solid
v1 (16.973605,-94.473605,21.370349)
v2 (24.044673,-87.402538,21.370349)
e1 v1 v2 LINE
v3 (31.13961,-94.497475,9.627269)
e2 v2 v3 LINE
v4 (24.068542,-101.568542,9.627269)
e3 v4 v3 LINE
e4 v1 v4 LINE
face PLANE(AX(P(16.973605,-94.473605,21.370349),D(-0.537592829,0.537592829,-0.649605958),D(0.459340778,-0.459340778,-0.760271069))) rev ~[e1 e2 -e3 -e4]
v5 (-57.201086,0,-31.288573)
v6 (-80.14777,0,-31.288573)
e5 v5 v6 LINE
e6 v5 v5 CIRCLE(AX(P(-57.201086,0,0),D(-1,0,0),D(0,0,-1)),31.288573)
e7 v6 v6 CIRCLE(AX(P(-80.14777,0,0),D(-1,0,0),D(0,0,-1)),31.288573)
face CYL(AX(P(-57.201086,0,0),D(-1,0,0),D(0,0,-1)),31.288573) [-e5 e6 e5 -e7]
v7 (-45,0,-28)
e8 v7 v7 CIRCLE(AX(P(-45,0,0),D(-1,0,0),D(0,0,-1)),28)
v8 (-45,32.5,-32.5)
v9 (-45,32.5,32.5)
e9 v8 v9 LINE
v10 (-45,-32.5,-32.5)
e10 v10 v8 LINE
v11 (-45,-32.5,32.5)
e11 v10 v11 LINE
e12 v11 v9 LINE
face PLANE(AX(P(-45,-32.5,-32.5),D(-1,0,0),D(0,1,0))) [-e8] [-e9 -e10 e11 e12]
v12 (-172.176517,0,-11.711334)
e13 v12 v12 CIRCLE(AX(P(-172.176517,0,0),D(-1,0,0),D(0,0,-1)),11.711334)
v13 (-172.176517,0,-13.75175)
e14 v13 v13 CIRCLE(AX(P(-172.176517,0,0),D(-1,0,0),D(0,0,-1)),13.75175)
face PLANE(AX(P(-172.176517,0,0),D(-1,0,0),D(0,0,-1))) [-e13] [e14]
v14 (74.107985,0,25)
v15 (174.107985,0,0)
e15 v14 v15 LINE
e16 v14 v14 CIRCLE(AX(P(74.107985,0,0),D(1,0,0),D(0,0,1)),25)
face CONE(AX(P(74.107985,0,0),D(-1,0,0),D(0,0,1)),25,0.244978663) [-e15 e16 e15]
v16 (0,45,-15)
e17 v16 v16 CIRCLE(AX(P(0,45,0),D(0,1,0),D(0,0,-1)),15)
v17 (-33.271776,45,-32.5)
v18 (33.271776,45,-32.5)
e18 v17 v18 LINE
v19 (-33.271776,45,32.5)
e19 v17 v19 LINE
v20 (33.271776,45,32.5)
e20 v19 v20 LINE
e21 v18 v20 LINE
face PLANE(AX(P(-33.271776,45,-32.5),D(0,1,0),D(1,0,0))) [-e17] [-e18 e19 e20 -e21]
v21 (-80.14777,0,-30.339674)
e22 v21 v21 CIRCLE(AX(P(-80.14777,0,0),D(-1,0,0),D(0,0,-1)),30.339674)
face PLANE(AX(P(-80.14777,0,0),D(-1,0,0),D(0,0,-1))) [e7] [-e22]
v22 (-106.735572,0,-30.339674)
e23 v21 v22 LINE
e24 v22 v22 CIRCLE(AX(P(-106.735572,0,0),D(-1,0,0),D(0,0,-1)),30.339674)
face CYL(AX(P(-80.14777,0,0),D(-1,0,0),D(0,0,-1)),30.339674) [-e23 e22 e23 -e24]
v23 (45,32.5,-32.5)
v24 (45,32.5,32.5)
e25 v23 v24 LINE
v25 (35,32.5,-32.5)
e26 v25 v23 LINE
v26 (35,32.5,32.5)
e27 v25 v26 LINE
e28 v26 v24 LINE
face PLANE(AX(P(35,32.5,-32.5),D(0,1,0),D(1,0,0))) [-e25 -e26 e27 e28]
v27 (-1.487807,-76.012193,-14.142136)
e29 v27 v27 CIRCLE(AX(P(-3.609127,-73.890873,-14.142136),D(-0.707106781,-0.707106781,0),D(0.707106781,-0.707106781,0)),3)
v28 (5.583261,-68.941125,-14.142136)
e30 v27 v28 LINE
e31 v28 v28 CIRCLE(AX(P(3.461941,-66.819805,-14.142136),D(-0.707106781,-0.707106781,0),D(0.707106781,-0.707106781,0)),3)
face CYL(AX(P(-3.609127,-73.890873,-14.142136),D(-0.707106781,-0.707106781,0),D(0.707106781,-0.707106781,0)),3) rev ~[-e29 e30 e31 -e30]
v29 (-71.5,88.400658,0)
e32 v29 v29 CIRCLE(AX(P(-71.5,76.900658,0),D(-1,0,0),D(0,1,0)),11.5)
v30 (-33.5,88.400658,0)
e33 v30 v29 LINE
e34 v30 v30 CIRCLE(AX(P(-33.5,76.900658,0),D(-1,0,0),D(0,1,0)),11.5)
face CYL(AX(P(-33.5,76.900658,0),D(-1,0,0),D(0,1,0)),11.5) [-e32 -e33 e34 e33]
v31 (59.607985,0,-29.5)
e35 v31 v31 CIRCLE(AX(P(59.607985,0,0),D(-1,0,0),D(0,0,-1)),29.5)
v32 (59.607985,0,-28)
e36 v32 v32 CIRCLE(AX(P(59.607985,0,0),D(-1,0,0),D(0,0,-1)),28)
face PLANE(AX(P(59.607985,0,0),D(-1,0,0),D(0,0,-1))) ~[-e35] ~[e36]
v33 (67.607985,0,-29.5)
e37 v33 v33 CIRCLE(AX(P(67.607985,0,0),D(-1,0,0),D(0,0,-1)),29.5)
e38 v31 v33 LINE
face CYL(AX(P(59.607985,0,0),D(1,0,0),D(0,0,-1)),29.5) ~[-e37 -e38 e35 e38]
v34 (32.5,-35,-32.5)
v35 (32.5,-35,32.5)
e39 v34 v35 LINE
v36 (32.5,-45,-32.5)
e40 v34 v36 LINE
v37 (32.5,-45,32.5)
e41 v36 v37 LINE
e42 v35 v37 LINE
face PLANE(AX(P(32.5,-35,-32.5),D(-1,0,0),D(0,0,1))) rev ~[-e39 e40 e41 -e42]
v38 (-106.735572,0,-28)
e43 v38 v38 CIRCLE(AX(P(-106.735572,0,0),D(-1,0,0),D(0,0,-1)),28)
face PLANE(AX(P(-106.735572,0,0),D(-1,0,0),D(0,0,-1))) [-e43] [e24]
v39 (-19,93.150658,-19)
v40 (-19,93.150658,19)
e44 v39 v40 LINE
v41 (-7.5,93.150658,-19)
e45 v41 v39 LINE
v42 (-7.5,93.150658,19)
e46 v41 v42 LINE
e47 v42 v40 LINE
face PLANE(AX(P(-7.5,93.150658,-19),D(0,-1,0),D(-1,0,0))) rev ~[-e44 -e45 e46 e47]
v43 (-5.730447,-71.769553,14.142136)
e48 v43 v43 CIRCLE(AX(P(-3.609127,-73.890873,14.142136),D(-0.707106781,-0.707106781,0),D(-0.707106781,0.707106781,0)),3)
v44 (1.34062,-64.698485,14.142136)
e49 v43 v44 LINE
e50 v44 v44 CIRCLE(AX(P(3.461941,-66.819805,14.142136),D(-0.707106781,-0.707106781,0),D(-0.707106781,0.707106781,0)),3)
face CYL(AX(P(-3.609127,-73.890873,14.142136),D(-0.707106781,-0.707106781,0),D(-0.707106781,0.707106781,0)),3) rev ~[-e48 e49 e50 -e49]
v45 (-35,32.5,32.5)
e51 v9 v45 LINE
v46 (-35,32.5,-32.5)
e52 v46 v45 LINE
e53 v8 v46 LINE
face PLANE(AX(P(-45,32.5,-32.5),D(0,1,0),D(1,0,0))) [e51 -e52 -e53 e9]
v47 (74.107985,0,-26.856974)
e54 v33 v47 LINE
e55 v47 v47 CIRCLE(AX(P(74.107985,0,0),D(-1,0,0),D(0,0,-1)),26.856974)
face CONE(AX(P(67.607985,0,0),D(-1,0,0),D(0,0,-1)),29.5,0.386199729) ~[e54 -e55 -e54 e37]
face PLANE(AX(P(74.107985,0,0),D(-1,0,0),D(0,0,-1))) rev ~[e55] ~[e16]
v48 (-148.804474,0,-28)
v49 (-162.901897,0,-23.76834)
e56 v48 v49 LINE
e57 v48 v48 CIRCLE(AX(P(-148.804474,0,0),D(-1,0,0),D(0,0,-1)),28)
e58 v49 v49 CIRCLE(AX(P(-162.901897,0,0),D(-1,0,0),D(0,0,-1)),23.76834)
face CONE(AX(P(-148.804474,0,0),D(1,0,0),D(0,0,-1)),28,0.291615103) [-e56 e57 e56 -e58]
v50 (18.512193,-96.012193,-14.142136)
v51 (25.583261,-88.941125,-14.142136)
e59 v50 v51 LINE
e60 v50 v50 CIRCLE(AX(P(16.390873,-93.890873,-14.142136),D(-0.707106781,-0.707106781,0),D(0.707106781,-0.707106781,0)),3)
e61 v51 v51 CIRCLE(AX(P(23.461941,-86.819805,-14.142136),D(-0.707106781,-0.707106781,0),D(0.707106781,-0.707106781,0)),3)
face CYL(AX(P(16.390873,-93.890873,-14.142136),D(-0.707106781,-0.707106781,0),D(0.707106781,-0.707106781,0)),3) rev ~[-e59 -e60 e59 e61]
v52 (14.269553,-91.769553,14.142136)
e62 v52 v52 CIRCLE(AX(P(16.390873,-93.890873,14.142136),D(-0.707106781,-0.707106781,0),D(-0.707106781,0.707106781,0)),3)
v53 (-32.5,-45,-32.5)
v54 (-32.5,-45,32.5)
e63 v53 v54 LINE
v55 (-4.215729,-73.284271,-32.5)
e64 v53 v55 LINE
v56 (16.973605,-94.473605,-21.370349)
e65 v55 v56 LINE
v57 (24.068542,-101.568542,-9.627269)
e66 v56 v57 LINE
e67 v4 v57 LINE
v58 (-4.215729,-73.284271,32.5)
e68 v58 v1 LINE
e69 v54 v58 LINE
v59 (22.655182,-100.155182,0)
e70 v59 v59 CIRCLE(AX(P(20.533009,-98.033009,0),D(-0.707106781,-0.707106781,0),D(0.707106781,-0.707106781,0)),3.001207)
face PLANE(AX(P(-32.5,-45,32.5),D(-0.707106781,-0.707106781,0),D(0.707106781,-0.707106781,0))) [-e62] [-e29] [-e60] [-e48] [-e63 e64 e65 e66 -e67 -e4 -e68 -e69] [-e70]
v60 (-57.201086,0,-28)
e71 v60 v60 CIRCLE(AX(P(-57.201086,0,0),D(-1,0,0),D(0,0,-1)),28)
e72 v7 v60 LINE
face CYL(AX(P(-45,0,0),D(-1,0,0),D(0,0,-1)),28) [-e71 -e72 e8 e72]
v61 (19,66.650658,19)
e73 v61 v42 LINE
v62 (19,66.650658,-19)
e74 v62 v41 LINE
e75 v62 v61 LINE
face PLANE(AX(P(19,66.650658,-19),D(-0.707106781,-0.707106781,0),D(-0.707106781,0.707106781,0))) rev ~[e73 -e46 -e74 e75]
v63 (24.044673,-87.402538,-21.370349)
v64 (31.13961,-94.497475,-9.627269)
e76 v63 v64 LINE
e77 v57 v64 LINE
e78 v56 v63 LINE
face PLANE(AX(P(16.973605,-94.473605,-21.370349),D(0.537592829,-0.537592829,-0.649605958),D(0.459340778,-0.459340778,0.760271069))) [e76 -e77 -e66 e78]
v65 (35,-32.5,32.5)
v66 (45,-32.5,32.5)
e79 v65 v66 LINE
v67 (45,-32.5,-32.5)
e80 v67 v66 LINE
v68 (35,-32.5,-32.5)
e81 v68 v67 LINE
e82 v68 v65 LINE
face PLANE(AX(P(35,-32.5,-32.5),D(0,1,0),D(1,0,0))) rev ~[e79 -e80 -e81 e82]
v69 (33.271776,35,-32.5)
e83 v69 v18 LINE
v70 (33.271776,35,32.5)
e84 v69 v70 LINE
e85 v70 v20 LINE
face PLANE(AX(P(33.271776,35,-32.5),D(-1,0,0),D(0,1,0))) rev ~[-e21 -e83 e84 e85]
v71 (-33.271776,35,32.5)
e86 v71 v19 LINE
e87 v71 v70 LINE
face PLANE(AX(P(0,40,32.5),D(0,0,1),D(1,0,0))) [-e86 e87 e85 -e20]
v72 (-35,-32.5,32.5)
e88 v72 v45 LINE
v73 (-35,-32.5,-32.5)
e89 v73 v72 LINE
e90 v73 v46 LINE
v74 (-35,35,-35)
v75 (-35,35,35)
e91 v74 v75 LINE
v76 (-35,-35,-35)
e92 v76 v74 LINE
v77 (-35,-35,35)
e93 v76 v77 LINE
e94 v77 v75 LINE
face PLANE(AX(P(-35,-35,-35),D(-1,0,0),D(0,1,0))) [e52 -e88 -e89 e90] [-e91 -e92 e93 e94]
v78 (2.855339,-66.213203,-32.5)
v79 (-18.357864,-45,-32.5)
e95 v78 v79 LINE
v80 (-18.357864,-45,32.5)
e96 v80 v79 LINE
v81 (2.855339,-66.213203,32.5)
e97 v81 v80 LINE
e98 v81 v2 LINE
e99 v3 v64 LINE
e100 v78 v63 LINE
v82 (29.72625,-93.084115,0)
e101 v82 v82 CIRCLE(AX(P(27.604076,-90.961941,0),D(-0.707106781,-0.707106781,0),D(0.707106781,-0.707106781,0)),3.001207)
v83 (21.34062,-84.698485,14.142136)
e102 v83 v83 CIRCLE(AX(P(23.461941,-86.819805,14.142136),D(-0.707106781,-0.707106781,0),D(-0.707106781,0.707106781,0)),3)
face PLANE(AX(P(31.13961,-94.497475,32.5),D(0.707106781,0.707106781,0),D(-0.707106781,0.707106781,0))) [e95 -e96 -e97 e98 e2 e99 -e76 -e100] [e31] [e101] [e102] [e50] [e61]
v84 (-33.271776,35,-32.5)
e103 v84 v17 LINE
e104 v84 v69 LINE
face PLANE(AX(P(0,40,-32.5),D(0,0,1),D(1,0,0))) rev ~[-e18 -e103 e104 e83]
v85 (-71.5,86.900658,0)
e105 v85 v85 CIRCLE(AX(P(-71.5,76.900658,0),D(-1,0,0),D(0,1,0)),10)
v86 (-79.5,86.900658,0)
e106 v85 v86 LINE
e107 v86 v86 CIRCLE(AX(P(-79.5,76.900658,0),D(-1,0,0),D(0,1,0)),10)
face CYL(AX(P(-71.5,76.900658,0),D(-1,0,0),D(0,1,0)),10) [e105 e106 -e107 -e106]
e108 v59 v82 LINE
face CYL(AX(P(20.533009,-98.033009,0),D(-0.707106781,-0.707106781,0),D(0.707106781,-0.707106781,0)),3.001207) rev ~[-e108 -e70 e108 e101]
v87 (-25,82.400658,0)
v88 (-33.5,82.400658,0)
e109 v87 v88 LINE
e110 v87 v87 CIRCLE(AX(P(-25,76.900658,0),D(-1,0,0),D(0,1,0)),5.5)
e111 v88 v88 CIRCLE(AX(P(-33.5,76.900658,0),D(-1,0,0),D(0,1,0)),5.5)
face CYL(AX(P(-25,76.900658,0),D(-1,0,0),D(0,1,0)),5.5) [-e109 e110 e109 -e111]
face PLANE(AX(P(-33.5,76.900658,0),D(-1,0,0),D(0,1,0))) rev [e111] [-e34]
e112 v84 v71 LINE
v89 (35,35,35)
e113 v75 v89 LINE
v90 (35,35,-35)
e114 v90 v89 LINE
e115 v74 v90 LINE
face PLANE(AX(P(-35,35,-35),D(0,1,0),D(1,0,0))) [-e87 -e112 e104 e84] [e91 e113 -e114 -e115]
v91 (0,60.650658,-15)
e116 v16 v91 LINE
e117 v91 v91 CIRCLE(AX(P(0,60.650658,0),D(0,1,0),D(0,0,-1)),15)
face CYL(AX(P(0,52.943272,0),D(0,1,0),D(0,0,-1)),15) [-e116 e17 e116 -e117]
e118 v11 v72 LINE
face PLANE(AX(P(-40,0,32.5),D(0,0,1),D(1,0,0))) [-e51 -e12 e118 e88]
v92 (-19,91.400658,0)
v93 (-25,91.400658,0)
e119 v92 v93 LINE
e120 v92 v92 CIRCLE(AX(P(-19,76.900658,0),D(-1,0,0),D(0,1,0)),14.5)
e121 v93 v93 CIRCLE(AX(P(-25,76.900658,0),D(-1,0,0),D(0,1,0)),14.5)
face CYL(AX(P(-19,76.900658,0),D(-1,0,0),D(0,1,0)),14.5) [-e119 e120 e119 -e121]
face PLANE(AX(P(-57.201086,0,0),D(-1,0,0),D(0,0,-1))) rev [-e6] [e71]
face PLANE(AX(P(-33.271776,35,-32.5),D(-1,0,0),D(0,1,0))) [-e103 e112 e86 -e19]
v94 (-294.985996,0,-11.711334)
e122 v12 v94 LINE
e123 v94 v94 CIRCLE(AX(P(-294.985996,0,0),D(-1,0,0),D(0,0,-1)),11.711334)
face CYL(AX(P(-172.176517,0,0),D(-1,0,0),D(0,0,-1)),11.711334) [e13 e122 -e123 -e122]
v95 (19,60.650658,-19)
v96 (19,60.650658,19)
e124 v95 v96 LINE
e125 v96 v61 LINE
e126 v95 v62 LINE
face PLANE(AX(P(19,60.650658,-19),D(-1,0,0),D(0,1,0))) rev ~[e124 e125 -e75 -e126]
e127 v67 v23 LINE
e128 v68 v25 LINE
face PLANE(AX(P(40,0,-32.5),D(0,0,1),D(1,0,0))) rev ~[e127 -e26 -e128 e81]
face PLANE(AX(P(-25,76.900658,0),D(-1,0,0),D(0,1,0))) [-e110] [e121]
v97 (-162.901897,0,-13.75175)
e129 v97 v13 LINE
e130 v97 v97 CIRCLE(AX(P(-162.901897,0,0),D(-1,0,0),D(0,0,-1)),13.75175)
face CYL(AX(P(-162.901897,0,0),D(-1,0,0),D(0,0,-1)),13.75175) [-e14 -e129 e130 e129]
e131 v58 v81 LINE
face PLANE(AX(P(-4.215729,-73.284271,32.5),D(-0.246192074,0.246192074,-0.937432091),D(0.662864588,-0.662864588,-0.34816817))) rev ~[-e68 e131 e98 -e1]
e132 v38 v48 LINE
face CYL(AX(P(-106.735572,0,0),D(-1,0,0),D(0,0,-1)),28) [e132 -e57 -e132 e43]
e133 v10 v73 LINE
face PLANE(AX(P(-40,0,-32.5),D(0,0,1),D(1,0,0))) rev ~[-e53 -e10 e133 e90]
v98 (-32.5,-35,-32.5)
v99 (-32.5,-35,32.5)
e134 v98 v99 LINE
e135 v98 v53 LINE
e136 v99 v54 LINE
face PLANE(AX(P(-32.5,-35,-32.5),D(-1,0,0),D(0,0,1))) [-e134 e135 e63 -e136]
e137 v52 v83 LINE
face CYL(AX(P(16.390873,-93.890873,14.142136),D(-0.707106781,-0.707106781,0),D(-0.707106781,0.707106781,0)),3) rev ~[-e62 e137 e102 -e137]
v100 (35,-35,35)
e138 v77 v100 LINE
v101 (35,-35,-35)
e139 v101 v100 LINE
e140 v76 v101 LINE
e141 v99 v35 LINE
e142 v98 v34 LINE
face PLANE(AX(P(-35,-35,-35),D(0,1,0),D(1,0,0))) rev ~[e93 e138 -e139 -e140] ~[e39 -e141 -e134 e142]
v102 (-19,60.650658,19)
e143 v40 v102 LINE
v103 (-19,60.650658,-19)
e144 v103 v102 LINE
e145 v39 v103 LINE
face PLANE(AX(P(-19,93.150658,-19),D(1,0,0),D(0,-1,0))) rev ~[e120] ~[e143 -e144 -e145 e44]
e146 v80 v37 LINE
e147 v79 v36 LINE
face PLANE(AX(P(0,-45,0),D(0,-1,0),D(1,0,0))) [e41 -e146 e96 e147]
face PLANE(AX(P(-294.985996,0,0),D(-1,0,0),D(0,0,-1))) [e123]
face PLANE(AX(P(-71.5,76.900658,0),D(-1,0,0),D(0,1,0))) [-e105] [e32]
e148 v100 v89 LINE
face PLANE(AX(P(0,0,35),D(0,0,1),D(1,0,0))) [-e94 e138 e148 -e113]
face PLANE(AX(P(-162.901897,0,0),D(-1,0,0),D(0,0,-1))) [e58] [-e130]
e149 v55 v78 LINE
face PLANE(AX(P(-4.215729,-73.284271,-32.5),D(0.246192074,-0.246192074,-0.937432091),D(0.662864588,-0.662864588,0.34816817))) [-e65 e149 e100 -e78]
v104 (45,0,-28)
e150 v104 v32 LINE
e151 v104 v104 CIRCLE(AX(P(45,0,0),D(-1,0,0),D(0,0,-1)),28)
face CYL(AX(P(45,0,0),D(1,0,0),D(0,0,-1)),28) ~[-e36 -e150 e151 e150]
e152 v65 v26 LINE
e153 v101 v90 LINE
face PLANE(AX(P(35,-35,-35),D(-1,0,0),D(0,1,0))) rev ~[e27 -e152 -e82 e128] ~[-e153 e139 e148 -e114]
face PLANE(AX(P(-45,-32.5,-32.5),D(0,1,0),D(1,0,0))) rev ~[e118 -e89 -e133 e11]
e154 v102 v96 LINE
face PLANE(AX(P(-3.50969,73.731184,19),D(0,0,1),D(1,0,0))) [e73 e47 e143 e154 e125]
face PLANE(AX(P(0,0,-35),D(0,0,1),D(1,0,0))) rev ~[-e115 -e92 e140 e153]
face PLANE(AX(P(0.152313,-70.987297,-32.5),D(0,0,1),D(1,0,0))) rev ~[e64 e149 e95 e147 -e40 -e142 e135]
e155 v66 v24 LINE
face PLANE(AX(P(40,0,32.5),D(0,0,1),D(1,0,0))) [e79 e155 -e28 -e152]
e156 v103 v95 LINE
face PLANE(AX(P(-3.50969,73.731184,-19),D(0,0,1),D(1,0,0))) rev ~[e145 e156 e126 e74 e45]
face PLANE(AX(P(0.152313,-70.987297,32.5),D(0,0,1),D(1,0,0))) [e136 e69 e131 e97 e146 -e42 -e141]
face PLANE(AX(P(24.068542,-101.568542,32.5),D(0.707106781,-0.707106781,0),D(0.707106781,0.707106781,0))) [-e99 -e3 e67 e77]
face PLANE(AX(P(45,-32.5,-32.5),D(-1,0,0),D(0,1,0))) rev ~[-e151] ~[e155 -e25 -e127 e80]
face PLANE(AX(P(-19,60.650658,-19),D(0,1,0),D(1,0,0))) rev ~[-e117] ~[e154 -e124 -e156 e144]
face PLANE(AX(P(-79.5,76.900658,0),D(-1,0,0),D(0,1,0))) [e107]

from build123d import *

# Parameters (mm, degrees)
BOSS_EXTRUDE1_DEPTH       = 35
BOSS_EXTRUDE1_DEPTH_BACK  = 35
SKETCH2_W                 = 70
SKETCH2_H                 = 70
BOSS_EXTRUDE2_DEPTH       = 32.5
BOSS_EXTRUDE2_DEPTH_BACK  = 32.5
SKETCH3_W                 = 10
SKETCH3_H                 = 65
BOSS_EXTRUDE10_DEPTH      = 32.5
BOSS_EXTRUDE10_DEPTH_BACK = 32.5
SKETCH20_W                = 10
SKETCH20_H                = 65
SKETCH6_W                 = 65
SKETCH6_H                 = 65
BOSS_EXTRUDE4_DEPTH       = 10
BOSS_EXTRUDE6_DEPTH       = 32.5
BOSS_EXTRUDE6_DEPTH_BACK  = 32.5
SKETCH12_W                = 66.54355119
SKETCH12_H                = 10
SKETCH13_W                = 15
SKETCH13_H                = 15.886543597
BOSS_EXTRUDE7_DEPTH       = 19
BOSS_EXTRUDE7_DEPTH_BACK  = 19
SKETCH16_W                = 15.65
SKETCH16_H                = 15
BOSS_EXTRUDE14_DEPTH      = 65
CUT_EXTRUDE2_REACH        = 292.31
SKETCH25_R                = 3.001207037
SKETCH25_R_2              = 3
CUT_EXTRUDE3_REACH        = 292.31


with BuildPart() as part:
    # Sketch2 → Boss-Extrude1 (new, two sides: drawn at the far end of the back side and taken through both)
    with BuildSketch(Plane.XY.offset(-BOSS_EXTRUDE1_DEPTH_BACK)):
        Rectangle(SKETCH2_W, SKETCH2_H)
    extrude(amount=BOSS_EXTRUDE1_DEPTH + BOSS_EXTRUDE1_DEPTH_BACK)

    # Sketch3 → Boss-Extrude2 (add, two sides: drawn at the far end of the back side and taken through both)
    with BuildSketch(Plane.XY.offset(-BOSS_EXTRUDE2_DEPTH_BACK)):
        with Locations((40, 0)):
            Rectangle(SKETCH3_W, SKETCH3_H)
    extrude(amount=BOSS_EXTRUDE2_DEPTH + BOSS_EXTRUDE2_DEPTH_BACK)

    # Sketch20 → Boss-Extrude10 (add, two sides: drawn at the far end of the back side and taken through both)
    with BuildSketch(Plane.XY.offset(-BOSS_EXTRUDE10_DEPTH_BACK)):
        with Locations((-40, 0)):
            Rectangle(SKETCH20_W, SKETCH20_H)
    extrude(amount=BOSS_EXTRUDE10_DEPTH + BOSS_EXTRUDE10_DEPTH_BACK)

    # Sketch4 → Revolve1 (revolve)
    with BuildSketch(Plane.XY, mode=Mode.PRIVATE) as revolve1_sk:
        Polygon((45, 28), (59.607985015, 28), (59.607985015, 29.5), (67.607985015, 29.5), (74.107985015, 26.85697368), (74.107985015, 0), (45, 0), align=None)
    revolve(revolve1_sk.sketch.rotate(Axis((126.079032841, 0, 0), (-1, 0, 0)), 90), axis=Axis((126.079032841, 0, 0), (-1, 0, 0)))

    # Sketch5 → Revolve2 (revolve)
    with BuildSketch(Plane.XY, mode=Mode.PRIVATE) as revolve2_sk:
        Polygon((74.107985015, 25), (174.107985015, 0), (74.107985015, 0), align=None)
    revolve(revolve2_sk.sketch.rotate(Axis((0, 0, 0), (1, 0, 0)), 90), axis=Axis((0, 0, 0), (1, 0, 0)))

    # Sketch11 → Revolve4 (revolve)
    with BuildSketch(Plane.XY, mode=Mode.PRIVATE) as revolve4_sk:
        Polygon((-45, 28), (-57.201085702, 28), (-57.201085702, 31.288573188), (-80.147769564, 31.288573188), (-80.147769564, 30.339674147), (-106.73557157, 30.339674147), (-106.73557157, 28), (-148.804473643, 28), (-162.901896786, 23.768340348), (-162.901896786, 13.75175022), (-172.176517275, 13.75175022), (-172.176517275, 11.711333713), (-294.985996393, 11.711333713), (-294.985996393, 0), (-45, 0), align=None)
    revolve(revolve4_sk.sketch.rotate(Axis((0, 0, 0), (-1, 0, 0)), 90), axis=Axis((0, 0, 0), (-1, 0, 0)))

    # Sketch6 → Boss-Extrude4 (add)
    with BuildSketch(Plane.XZ.offset(35)):
        Rectangle(SKETCH6_W, SKETCH6_H)
    extrude(amount=BOSS_EXTRUDE4_DEPTH)

    # Sketch12 → Boss-Extrude6 (add, two sides: drawn at the far end of the back side and taken through both)
    with BuildSketch(Plane.XY.offset(-BOSS_EXTRUDE6_DEPTH_BACK)):
        with Locations((0, 40)):
            Rectangle(SKETCH12_W, SKETCH12_H)
    extrude(amount=BOSS_EXTRUDE6_DEPTH + BOSS_EXTRUDE6_DEPTH_BACK)

    # Sketch13 → Revolve5 (revolve)
    with BuildSketch(Plane.XY, mode=Mode.PRIVATE) as revolve5_sk:
        with Locations((7.5, 52.943271799)):
            Rectangle(SKETCH13_W, SKETCH13_H)
    revolve(revolve5_sk.sketch.rotate(Axis((0, 0, 0), (0, 1, 0)), 90), axis=Axis((0, 0, 0), (0, 1, 0)))

    # Sketch14 → Boss-Extrude7 (add, two sides: drawn at the far end of the back side and taken through both)
    with BuildSketch(Plane.XY.offset(-BOSS_EXTRUDE7_DEPTH_BACK)):
        Polygon((-19, 60.650657798), (19, 60.650657798), (19, 66.650657798), (-7.5, 93.150657798), (-19, 93.150657798), align=None)
    extrude(amount=BOSS_EXTRUDE7_DEPTH + BOSS_EXTRUDE7_DEPTH_BACK)

    # Sketch15 → Revolve6 (revolve)
    with BuildSketch(Plane.XY):
        Polygon((-19, 91.400657798), (-25, 91.400657798), (-25, 82.400657798), (-33.5, 82.400657798), (-33.5, 88.400657798), (-71.5, 88.400657798), (-71.5, 86.900657798), (-79.5, 86.900657798), (-79.5, 76.900657798), (-19, 76.900657798), align=None)
    revolve(axis=Axis((23.08157289, 76.900657798, 0), (-1, 0, 0)))

    # Sketch16 → Revolve7 (revolve)
    with BuildSketch(Plane.XY):
        with Locations((-52.825, 7.5)):
            Rectangle(SKETCH16_W, SKETCH16_H)
    revolve(axis=Axis((0, 0, 0), (-1, 0, 0)))

    # Sketch24 → Boss-Extrude14 (add)
    with BuildSketch(Plane.XY.offset(32.5)):
        Polygon((-32.5, -45), (24.068542495, -101.568542495), (31.139610307, -94.497474683), (-18.357864376, -45), align=None)
    extrude(amount=-BOSS_EXTRUDE14_DEPTH)

    # Sketch25 → Cut-Extrude2 (cut, up to next)
    with BuildSketch(Plane(origin=(-38.75, -38.75, 0), x_dir=(0, 0, 1), z_dir=(-0.7071067811865438, -0.7071067811865512, 0)), mode=Mode.PRIVATE) as cut_extrude2_sk1:
        with Locations(Location((0, -83.838834765, 0), (0, 0, 270))):
            Circle(SKETCH25_R)
    cut_extrude2_tool1 = extrude(cut_extrude2_sk1.sketch, amount=-CUT_EXTRUDE2_REACH, mode=Mode.PRIVATE) & part.part
    # Sketch25 → Cut-Extrude2 (cut, up to next)
    with BuildSketch(Plane(origin=(-38.75, -38.75, 0), x_dir=(0, 0, 1), z_dir=(-0.7071067811865438, -0.7071067811865512, 0)), mode=Mode.PRIVATE) as cut_extrude2_sk2:
        with Locations(Location((-14.142135624, -49.696699141, 0), (0, 0, 270))):
            Circle(SKETCH25_R_2)
    cut_extrude2_tool2 = extrude(cut_extrude2_sk2.sketch, amount=-CUT_EXTRUDE2_REACH, mode=Mode.PRIVATE) & part.part
    # Sketch25 → Cut-Extrude2 (cut, up to next)
    with BuildSketch(Plane(origin=(-38.75, -38.75, 0), x_dir=(0, 0, 1), z_dir=(-0.7071067811865438, -0.7071067811865512, 0)), mode=Mode.PRIVATE) as cut_extrude2_sk3:
        with Locations(Location((-14.142135624, -77.980970389, 0), (0, 0, 270))):
            Circle(SKETCH25_R_2)
    cut_extrude2_tool3 = extrude(cut_extrude2_sk3.sketch, amount=-CUT_EXTRUDE2_REACH, mode=Mode.PRIVATE) & part.part
    # Sketch25 → Cut-Extrude2 (cut, up to next)
    with BuildSketch(Plane(origin=(-38.75, -38.75, 0), x_dir=(0, 0, 1), z_dir=(-0.7071067811865438, -0.7071067811865512, 0)), mode=Mode.PRIVATE) as cut_extrude2_sk4:
        with Locations(Location((14.142135624, -49.696699141, 0), (0, 0, 90))):
            Circle(SKETCH25_R_2)
    cut_extrude2_tool4 = extrude(cut_extrude2_sk4.sketch, amount=-CUT_EXTRUDE2_REACH, mode=Mode.PRIVATE) & part.part
    # Sketch25 → Cut-Extrude2 (cut, up to next)
    with BuildSketch(Plane(origin=(-38.75, -38.75, 0), x_dir=(0, 0, 1), z_dir=(-0.7071067811865438, -0.7071067811865512, 0)), mode=Mode.PRIVATE) as cut_extrude2_sk5:
        with Locations(Location((14.142135624, -77.980970389, 0), (0, 0, 90))):
            Circle(SKETCH25_R_2)
    cut_extrude2_tool5 = extrude(cut_extrude2_sk5.sketch, amount=-CUT_EXTRUDE2_REACH, mode=Mode.PRIVATE) & part.part
    add(cut_extrude2_tool1.solids().sort_by_distance((20.533009, -98.033009, 0))[0], mode=Mode.SUBTRACT)
    add(cut_extrude2_tool2.solids().sort_by_distance((-3.609127, -73.890873, -14.142136))[0], mode=Mode.SUBTRACT)
    add(cut_extrude2_tool3.solids().sort_by_distance((16.390873, -93.890873, -14.142136))[0], mode=Mode.SUBTRACT)
    add(cut_extrude2_tool4.solids().sort_by_distance((-3.609127, -73.890873, 14.142136))[0], mode=Mode.SUBTRACT)
    add(cut_extrude2_tool5.solids().sort_by_distance((16.390873, -93.890873, 14.142136))[0], mode=Mode.SUBTRACT)

    # Sketch26 → Cut-Extrude3 (cut, up to next)
    with BuildSketch(Plane(origin=(-38.75, -38.75, 0), x_dir=(0, 0, 1), z_dir=(-0.7071067811865438, -0.7071067811865512, 0)), mode=Mode.PRIVATE) as cut_extrude3_sk1:
        Polygon((-32.5, -48.838834765), (-21.370348691, -78.805078625), (-9.627269044, -88.838834765), (-32.5, -88.838834765), align=None)
    cut_extrude3_tool1 = extrude(cut_extrude3_sk1.sketch, amount=-CUT_EXTRUDE3_REACH, mode=Mode.PRIVATE) & part.part
    # Sketch26 → Cut-Extrude3 (cut, up to next)
    with BuildSketch(Plane(origin=(-38.75, -38.75, 0), x_dir=(0, 0, 1), z_dir=(-0.7071067811865438, -0.7071067811865512, 0)), mode=Mode.PRIVATE) as cut_extrude3_sk2:
        Polygon((32.5, -48.838834765), (21.370348691, -78.805078625), (9.627269044, -88.838834765), (32.5, -88.838834765), align=None)
    cut_extrude3_tool2 = extrude(cut_extrude3_sk2.sketch, amount=-CUT_EXTRUDE3_REACH, mode=Mode.PRIVATE) & part.part
    add(cut_extrude3_tool1.solids().sort_by_distance((15.48251, -92.98251, -26.196672))[0], mode=Mode.SUBTRACT)
    add(cut_extrude3_tool2.solids().sort_by_distance((15.48251, -92.98251, 26.196672))[0], mode=Mode.SUBTRACT)


solid = part.part
